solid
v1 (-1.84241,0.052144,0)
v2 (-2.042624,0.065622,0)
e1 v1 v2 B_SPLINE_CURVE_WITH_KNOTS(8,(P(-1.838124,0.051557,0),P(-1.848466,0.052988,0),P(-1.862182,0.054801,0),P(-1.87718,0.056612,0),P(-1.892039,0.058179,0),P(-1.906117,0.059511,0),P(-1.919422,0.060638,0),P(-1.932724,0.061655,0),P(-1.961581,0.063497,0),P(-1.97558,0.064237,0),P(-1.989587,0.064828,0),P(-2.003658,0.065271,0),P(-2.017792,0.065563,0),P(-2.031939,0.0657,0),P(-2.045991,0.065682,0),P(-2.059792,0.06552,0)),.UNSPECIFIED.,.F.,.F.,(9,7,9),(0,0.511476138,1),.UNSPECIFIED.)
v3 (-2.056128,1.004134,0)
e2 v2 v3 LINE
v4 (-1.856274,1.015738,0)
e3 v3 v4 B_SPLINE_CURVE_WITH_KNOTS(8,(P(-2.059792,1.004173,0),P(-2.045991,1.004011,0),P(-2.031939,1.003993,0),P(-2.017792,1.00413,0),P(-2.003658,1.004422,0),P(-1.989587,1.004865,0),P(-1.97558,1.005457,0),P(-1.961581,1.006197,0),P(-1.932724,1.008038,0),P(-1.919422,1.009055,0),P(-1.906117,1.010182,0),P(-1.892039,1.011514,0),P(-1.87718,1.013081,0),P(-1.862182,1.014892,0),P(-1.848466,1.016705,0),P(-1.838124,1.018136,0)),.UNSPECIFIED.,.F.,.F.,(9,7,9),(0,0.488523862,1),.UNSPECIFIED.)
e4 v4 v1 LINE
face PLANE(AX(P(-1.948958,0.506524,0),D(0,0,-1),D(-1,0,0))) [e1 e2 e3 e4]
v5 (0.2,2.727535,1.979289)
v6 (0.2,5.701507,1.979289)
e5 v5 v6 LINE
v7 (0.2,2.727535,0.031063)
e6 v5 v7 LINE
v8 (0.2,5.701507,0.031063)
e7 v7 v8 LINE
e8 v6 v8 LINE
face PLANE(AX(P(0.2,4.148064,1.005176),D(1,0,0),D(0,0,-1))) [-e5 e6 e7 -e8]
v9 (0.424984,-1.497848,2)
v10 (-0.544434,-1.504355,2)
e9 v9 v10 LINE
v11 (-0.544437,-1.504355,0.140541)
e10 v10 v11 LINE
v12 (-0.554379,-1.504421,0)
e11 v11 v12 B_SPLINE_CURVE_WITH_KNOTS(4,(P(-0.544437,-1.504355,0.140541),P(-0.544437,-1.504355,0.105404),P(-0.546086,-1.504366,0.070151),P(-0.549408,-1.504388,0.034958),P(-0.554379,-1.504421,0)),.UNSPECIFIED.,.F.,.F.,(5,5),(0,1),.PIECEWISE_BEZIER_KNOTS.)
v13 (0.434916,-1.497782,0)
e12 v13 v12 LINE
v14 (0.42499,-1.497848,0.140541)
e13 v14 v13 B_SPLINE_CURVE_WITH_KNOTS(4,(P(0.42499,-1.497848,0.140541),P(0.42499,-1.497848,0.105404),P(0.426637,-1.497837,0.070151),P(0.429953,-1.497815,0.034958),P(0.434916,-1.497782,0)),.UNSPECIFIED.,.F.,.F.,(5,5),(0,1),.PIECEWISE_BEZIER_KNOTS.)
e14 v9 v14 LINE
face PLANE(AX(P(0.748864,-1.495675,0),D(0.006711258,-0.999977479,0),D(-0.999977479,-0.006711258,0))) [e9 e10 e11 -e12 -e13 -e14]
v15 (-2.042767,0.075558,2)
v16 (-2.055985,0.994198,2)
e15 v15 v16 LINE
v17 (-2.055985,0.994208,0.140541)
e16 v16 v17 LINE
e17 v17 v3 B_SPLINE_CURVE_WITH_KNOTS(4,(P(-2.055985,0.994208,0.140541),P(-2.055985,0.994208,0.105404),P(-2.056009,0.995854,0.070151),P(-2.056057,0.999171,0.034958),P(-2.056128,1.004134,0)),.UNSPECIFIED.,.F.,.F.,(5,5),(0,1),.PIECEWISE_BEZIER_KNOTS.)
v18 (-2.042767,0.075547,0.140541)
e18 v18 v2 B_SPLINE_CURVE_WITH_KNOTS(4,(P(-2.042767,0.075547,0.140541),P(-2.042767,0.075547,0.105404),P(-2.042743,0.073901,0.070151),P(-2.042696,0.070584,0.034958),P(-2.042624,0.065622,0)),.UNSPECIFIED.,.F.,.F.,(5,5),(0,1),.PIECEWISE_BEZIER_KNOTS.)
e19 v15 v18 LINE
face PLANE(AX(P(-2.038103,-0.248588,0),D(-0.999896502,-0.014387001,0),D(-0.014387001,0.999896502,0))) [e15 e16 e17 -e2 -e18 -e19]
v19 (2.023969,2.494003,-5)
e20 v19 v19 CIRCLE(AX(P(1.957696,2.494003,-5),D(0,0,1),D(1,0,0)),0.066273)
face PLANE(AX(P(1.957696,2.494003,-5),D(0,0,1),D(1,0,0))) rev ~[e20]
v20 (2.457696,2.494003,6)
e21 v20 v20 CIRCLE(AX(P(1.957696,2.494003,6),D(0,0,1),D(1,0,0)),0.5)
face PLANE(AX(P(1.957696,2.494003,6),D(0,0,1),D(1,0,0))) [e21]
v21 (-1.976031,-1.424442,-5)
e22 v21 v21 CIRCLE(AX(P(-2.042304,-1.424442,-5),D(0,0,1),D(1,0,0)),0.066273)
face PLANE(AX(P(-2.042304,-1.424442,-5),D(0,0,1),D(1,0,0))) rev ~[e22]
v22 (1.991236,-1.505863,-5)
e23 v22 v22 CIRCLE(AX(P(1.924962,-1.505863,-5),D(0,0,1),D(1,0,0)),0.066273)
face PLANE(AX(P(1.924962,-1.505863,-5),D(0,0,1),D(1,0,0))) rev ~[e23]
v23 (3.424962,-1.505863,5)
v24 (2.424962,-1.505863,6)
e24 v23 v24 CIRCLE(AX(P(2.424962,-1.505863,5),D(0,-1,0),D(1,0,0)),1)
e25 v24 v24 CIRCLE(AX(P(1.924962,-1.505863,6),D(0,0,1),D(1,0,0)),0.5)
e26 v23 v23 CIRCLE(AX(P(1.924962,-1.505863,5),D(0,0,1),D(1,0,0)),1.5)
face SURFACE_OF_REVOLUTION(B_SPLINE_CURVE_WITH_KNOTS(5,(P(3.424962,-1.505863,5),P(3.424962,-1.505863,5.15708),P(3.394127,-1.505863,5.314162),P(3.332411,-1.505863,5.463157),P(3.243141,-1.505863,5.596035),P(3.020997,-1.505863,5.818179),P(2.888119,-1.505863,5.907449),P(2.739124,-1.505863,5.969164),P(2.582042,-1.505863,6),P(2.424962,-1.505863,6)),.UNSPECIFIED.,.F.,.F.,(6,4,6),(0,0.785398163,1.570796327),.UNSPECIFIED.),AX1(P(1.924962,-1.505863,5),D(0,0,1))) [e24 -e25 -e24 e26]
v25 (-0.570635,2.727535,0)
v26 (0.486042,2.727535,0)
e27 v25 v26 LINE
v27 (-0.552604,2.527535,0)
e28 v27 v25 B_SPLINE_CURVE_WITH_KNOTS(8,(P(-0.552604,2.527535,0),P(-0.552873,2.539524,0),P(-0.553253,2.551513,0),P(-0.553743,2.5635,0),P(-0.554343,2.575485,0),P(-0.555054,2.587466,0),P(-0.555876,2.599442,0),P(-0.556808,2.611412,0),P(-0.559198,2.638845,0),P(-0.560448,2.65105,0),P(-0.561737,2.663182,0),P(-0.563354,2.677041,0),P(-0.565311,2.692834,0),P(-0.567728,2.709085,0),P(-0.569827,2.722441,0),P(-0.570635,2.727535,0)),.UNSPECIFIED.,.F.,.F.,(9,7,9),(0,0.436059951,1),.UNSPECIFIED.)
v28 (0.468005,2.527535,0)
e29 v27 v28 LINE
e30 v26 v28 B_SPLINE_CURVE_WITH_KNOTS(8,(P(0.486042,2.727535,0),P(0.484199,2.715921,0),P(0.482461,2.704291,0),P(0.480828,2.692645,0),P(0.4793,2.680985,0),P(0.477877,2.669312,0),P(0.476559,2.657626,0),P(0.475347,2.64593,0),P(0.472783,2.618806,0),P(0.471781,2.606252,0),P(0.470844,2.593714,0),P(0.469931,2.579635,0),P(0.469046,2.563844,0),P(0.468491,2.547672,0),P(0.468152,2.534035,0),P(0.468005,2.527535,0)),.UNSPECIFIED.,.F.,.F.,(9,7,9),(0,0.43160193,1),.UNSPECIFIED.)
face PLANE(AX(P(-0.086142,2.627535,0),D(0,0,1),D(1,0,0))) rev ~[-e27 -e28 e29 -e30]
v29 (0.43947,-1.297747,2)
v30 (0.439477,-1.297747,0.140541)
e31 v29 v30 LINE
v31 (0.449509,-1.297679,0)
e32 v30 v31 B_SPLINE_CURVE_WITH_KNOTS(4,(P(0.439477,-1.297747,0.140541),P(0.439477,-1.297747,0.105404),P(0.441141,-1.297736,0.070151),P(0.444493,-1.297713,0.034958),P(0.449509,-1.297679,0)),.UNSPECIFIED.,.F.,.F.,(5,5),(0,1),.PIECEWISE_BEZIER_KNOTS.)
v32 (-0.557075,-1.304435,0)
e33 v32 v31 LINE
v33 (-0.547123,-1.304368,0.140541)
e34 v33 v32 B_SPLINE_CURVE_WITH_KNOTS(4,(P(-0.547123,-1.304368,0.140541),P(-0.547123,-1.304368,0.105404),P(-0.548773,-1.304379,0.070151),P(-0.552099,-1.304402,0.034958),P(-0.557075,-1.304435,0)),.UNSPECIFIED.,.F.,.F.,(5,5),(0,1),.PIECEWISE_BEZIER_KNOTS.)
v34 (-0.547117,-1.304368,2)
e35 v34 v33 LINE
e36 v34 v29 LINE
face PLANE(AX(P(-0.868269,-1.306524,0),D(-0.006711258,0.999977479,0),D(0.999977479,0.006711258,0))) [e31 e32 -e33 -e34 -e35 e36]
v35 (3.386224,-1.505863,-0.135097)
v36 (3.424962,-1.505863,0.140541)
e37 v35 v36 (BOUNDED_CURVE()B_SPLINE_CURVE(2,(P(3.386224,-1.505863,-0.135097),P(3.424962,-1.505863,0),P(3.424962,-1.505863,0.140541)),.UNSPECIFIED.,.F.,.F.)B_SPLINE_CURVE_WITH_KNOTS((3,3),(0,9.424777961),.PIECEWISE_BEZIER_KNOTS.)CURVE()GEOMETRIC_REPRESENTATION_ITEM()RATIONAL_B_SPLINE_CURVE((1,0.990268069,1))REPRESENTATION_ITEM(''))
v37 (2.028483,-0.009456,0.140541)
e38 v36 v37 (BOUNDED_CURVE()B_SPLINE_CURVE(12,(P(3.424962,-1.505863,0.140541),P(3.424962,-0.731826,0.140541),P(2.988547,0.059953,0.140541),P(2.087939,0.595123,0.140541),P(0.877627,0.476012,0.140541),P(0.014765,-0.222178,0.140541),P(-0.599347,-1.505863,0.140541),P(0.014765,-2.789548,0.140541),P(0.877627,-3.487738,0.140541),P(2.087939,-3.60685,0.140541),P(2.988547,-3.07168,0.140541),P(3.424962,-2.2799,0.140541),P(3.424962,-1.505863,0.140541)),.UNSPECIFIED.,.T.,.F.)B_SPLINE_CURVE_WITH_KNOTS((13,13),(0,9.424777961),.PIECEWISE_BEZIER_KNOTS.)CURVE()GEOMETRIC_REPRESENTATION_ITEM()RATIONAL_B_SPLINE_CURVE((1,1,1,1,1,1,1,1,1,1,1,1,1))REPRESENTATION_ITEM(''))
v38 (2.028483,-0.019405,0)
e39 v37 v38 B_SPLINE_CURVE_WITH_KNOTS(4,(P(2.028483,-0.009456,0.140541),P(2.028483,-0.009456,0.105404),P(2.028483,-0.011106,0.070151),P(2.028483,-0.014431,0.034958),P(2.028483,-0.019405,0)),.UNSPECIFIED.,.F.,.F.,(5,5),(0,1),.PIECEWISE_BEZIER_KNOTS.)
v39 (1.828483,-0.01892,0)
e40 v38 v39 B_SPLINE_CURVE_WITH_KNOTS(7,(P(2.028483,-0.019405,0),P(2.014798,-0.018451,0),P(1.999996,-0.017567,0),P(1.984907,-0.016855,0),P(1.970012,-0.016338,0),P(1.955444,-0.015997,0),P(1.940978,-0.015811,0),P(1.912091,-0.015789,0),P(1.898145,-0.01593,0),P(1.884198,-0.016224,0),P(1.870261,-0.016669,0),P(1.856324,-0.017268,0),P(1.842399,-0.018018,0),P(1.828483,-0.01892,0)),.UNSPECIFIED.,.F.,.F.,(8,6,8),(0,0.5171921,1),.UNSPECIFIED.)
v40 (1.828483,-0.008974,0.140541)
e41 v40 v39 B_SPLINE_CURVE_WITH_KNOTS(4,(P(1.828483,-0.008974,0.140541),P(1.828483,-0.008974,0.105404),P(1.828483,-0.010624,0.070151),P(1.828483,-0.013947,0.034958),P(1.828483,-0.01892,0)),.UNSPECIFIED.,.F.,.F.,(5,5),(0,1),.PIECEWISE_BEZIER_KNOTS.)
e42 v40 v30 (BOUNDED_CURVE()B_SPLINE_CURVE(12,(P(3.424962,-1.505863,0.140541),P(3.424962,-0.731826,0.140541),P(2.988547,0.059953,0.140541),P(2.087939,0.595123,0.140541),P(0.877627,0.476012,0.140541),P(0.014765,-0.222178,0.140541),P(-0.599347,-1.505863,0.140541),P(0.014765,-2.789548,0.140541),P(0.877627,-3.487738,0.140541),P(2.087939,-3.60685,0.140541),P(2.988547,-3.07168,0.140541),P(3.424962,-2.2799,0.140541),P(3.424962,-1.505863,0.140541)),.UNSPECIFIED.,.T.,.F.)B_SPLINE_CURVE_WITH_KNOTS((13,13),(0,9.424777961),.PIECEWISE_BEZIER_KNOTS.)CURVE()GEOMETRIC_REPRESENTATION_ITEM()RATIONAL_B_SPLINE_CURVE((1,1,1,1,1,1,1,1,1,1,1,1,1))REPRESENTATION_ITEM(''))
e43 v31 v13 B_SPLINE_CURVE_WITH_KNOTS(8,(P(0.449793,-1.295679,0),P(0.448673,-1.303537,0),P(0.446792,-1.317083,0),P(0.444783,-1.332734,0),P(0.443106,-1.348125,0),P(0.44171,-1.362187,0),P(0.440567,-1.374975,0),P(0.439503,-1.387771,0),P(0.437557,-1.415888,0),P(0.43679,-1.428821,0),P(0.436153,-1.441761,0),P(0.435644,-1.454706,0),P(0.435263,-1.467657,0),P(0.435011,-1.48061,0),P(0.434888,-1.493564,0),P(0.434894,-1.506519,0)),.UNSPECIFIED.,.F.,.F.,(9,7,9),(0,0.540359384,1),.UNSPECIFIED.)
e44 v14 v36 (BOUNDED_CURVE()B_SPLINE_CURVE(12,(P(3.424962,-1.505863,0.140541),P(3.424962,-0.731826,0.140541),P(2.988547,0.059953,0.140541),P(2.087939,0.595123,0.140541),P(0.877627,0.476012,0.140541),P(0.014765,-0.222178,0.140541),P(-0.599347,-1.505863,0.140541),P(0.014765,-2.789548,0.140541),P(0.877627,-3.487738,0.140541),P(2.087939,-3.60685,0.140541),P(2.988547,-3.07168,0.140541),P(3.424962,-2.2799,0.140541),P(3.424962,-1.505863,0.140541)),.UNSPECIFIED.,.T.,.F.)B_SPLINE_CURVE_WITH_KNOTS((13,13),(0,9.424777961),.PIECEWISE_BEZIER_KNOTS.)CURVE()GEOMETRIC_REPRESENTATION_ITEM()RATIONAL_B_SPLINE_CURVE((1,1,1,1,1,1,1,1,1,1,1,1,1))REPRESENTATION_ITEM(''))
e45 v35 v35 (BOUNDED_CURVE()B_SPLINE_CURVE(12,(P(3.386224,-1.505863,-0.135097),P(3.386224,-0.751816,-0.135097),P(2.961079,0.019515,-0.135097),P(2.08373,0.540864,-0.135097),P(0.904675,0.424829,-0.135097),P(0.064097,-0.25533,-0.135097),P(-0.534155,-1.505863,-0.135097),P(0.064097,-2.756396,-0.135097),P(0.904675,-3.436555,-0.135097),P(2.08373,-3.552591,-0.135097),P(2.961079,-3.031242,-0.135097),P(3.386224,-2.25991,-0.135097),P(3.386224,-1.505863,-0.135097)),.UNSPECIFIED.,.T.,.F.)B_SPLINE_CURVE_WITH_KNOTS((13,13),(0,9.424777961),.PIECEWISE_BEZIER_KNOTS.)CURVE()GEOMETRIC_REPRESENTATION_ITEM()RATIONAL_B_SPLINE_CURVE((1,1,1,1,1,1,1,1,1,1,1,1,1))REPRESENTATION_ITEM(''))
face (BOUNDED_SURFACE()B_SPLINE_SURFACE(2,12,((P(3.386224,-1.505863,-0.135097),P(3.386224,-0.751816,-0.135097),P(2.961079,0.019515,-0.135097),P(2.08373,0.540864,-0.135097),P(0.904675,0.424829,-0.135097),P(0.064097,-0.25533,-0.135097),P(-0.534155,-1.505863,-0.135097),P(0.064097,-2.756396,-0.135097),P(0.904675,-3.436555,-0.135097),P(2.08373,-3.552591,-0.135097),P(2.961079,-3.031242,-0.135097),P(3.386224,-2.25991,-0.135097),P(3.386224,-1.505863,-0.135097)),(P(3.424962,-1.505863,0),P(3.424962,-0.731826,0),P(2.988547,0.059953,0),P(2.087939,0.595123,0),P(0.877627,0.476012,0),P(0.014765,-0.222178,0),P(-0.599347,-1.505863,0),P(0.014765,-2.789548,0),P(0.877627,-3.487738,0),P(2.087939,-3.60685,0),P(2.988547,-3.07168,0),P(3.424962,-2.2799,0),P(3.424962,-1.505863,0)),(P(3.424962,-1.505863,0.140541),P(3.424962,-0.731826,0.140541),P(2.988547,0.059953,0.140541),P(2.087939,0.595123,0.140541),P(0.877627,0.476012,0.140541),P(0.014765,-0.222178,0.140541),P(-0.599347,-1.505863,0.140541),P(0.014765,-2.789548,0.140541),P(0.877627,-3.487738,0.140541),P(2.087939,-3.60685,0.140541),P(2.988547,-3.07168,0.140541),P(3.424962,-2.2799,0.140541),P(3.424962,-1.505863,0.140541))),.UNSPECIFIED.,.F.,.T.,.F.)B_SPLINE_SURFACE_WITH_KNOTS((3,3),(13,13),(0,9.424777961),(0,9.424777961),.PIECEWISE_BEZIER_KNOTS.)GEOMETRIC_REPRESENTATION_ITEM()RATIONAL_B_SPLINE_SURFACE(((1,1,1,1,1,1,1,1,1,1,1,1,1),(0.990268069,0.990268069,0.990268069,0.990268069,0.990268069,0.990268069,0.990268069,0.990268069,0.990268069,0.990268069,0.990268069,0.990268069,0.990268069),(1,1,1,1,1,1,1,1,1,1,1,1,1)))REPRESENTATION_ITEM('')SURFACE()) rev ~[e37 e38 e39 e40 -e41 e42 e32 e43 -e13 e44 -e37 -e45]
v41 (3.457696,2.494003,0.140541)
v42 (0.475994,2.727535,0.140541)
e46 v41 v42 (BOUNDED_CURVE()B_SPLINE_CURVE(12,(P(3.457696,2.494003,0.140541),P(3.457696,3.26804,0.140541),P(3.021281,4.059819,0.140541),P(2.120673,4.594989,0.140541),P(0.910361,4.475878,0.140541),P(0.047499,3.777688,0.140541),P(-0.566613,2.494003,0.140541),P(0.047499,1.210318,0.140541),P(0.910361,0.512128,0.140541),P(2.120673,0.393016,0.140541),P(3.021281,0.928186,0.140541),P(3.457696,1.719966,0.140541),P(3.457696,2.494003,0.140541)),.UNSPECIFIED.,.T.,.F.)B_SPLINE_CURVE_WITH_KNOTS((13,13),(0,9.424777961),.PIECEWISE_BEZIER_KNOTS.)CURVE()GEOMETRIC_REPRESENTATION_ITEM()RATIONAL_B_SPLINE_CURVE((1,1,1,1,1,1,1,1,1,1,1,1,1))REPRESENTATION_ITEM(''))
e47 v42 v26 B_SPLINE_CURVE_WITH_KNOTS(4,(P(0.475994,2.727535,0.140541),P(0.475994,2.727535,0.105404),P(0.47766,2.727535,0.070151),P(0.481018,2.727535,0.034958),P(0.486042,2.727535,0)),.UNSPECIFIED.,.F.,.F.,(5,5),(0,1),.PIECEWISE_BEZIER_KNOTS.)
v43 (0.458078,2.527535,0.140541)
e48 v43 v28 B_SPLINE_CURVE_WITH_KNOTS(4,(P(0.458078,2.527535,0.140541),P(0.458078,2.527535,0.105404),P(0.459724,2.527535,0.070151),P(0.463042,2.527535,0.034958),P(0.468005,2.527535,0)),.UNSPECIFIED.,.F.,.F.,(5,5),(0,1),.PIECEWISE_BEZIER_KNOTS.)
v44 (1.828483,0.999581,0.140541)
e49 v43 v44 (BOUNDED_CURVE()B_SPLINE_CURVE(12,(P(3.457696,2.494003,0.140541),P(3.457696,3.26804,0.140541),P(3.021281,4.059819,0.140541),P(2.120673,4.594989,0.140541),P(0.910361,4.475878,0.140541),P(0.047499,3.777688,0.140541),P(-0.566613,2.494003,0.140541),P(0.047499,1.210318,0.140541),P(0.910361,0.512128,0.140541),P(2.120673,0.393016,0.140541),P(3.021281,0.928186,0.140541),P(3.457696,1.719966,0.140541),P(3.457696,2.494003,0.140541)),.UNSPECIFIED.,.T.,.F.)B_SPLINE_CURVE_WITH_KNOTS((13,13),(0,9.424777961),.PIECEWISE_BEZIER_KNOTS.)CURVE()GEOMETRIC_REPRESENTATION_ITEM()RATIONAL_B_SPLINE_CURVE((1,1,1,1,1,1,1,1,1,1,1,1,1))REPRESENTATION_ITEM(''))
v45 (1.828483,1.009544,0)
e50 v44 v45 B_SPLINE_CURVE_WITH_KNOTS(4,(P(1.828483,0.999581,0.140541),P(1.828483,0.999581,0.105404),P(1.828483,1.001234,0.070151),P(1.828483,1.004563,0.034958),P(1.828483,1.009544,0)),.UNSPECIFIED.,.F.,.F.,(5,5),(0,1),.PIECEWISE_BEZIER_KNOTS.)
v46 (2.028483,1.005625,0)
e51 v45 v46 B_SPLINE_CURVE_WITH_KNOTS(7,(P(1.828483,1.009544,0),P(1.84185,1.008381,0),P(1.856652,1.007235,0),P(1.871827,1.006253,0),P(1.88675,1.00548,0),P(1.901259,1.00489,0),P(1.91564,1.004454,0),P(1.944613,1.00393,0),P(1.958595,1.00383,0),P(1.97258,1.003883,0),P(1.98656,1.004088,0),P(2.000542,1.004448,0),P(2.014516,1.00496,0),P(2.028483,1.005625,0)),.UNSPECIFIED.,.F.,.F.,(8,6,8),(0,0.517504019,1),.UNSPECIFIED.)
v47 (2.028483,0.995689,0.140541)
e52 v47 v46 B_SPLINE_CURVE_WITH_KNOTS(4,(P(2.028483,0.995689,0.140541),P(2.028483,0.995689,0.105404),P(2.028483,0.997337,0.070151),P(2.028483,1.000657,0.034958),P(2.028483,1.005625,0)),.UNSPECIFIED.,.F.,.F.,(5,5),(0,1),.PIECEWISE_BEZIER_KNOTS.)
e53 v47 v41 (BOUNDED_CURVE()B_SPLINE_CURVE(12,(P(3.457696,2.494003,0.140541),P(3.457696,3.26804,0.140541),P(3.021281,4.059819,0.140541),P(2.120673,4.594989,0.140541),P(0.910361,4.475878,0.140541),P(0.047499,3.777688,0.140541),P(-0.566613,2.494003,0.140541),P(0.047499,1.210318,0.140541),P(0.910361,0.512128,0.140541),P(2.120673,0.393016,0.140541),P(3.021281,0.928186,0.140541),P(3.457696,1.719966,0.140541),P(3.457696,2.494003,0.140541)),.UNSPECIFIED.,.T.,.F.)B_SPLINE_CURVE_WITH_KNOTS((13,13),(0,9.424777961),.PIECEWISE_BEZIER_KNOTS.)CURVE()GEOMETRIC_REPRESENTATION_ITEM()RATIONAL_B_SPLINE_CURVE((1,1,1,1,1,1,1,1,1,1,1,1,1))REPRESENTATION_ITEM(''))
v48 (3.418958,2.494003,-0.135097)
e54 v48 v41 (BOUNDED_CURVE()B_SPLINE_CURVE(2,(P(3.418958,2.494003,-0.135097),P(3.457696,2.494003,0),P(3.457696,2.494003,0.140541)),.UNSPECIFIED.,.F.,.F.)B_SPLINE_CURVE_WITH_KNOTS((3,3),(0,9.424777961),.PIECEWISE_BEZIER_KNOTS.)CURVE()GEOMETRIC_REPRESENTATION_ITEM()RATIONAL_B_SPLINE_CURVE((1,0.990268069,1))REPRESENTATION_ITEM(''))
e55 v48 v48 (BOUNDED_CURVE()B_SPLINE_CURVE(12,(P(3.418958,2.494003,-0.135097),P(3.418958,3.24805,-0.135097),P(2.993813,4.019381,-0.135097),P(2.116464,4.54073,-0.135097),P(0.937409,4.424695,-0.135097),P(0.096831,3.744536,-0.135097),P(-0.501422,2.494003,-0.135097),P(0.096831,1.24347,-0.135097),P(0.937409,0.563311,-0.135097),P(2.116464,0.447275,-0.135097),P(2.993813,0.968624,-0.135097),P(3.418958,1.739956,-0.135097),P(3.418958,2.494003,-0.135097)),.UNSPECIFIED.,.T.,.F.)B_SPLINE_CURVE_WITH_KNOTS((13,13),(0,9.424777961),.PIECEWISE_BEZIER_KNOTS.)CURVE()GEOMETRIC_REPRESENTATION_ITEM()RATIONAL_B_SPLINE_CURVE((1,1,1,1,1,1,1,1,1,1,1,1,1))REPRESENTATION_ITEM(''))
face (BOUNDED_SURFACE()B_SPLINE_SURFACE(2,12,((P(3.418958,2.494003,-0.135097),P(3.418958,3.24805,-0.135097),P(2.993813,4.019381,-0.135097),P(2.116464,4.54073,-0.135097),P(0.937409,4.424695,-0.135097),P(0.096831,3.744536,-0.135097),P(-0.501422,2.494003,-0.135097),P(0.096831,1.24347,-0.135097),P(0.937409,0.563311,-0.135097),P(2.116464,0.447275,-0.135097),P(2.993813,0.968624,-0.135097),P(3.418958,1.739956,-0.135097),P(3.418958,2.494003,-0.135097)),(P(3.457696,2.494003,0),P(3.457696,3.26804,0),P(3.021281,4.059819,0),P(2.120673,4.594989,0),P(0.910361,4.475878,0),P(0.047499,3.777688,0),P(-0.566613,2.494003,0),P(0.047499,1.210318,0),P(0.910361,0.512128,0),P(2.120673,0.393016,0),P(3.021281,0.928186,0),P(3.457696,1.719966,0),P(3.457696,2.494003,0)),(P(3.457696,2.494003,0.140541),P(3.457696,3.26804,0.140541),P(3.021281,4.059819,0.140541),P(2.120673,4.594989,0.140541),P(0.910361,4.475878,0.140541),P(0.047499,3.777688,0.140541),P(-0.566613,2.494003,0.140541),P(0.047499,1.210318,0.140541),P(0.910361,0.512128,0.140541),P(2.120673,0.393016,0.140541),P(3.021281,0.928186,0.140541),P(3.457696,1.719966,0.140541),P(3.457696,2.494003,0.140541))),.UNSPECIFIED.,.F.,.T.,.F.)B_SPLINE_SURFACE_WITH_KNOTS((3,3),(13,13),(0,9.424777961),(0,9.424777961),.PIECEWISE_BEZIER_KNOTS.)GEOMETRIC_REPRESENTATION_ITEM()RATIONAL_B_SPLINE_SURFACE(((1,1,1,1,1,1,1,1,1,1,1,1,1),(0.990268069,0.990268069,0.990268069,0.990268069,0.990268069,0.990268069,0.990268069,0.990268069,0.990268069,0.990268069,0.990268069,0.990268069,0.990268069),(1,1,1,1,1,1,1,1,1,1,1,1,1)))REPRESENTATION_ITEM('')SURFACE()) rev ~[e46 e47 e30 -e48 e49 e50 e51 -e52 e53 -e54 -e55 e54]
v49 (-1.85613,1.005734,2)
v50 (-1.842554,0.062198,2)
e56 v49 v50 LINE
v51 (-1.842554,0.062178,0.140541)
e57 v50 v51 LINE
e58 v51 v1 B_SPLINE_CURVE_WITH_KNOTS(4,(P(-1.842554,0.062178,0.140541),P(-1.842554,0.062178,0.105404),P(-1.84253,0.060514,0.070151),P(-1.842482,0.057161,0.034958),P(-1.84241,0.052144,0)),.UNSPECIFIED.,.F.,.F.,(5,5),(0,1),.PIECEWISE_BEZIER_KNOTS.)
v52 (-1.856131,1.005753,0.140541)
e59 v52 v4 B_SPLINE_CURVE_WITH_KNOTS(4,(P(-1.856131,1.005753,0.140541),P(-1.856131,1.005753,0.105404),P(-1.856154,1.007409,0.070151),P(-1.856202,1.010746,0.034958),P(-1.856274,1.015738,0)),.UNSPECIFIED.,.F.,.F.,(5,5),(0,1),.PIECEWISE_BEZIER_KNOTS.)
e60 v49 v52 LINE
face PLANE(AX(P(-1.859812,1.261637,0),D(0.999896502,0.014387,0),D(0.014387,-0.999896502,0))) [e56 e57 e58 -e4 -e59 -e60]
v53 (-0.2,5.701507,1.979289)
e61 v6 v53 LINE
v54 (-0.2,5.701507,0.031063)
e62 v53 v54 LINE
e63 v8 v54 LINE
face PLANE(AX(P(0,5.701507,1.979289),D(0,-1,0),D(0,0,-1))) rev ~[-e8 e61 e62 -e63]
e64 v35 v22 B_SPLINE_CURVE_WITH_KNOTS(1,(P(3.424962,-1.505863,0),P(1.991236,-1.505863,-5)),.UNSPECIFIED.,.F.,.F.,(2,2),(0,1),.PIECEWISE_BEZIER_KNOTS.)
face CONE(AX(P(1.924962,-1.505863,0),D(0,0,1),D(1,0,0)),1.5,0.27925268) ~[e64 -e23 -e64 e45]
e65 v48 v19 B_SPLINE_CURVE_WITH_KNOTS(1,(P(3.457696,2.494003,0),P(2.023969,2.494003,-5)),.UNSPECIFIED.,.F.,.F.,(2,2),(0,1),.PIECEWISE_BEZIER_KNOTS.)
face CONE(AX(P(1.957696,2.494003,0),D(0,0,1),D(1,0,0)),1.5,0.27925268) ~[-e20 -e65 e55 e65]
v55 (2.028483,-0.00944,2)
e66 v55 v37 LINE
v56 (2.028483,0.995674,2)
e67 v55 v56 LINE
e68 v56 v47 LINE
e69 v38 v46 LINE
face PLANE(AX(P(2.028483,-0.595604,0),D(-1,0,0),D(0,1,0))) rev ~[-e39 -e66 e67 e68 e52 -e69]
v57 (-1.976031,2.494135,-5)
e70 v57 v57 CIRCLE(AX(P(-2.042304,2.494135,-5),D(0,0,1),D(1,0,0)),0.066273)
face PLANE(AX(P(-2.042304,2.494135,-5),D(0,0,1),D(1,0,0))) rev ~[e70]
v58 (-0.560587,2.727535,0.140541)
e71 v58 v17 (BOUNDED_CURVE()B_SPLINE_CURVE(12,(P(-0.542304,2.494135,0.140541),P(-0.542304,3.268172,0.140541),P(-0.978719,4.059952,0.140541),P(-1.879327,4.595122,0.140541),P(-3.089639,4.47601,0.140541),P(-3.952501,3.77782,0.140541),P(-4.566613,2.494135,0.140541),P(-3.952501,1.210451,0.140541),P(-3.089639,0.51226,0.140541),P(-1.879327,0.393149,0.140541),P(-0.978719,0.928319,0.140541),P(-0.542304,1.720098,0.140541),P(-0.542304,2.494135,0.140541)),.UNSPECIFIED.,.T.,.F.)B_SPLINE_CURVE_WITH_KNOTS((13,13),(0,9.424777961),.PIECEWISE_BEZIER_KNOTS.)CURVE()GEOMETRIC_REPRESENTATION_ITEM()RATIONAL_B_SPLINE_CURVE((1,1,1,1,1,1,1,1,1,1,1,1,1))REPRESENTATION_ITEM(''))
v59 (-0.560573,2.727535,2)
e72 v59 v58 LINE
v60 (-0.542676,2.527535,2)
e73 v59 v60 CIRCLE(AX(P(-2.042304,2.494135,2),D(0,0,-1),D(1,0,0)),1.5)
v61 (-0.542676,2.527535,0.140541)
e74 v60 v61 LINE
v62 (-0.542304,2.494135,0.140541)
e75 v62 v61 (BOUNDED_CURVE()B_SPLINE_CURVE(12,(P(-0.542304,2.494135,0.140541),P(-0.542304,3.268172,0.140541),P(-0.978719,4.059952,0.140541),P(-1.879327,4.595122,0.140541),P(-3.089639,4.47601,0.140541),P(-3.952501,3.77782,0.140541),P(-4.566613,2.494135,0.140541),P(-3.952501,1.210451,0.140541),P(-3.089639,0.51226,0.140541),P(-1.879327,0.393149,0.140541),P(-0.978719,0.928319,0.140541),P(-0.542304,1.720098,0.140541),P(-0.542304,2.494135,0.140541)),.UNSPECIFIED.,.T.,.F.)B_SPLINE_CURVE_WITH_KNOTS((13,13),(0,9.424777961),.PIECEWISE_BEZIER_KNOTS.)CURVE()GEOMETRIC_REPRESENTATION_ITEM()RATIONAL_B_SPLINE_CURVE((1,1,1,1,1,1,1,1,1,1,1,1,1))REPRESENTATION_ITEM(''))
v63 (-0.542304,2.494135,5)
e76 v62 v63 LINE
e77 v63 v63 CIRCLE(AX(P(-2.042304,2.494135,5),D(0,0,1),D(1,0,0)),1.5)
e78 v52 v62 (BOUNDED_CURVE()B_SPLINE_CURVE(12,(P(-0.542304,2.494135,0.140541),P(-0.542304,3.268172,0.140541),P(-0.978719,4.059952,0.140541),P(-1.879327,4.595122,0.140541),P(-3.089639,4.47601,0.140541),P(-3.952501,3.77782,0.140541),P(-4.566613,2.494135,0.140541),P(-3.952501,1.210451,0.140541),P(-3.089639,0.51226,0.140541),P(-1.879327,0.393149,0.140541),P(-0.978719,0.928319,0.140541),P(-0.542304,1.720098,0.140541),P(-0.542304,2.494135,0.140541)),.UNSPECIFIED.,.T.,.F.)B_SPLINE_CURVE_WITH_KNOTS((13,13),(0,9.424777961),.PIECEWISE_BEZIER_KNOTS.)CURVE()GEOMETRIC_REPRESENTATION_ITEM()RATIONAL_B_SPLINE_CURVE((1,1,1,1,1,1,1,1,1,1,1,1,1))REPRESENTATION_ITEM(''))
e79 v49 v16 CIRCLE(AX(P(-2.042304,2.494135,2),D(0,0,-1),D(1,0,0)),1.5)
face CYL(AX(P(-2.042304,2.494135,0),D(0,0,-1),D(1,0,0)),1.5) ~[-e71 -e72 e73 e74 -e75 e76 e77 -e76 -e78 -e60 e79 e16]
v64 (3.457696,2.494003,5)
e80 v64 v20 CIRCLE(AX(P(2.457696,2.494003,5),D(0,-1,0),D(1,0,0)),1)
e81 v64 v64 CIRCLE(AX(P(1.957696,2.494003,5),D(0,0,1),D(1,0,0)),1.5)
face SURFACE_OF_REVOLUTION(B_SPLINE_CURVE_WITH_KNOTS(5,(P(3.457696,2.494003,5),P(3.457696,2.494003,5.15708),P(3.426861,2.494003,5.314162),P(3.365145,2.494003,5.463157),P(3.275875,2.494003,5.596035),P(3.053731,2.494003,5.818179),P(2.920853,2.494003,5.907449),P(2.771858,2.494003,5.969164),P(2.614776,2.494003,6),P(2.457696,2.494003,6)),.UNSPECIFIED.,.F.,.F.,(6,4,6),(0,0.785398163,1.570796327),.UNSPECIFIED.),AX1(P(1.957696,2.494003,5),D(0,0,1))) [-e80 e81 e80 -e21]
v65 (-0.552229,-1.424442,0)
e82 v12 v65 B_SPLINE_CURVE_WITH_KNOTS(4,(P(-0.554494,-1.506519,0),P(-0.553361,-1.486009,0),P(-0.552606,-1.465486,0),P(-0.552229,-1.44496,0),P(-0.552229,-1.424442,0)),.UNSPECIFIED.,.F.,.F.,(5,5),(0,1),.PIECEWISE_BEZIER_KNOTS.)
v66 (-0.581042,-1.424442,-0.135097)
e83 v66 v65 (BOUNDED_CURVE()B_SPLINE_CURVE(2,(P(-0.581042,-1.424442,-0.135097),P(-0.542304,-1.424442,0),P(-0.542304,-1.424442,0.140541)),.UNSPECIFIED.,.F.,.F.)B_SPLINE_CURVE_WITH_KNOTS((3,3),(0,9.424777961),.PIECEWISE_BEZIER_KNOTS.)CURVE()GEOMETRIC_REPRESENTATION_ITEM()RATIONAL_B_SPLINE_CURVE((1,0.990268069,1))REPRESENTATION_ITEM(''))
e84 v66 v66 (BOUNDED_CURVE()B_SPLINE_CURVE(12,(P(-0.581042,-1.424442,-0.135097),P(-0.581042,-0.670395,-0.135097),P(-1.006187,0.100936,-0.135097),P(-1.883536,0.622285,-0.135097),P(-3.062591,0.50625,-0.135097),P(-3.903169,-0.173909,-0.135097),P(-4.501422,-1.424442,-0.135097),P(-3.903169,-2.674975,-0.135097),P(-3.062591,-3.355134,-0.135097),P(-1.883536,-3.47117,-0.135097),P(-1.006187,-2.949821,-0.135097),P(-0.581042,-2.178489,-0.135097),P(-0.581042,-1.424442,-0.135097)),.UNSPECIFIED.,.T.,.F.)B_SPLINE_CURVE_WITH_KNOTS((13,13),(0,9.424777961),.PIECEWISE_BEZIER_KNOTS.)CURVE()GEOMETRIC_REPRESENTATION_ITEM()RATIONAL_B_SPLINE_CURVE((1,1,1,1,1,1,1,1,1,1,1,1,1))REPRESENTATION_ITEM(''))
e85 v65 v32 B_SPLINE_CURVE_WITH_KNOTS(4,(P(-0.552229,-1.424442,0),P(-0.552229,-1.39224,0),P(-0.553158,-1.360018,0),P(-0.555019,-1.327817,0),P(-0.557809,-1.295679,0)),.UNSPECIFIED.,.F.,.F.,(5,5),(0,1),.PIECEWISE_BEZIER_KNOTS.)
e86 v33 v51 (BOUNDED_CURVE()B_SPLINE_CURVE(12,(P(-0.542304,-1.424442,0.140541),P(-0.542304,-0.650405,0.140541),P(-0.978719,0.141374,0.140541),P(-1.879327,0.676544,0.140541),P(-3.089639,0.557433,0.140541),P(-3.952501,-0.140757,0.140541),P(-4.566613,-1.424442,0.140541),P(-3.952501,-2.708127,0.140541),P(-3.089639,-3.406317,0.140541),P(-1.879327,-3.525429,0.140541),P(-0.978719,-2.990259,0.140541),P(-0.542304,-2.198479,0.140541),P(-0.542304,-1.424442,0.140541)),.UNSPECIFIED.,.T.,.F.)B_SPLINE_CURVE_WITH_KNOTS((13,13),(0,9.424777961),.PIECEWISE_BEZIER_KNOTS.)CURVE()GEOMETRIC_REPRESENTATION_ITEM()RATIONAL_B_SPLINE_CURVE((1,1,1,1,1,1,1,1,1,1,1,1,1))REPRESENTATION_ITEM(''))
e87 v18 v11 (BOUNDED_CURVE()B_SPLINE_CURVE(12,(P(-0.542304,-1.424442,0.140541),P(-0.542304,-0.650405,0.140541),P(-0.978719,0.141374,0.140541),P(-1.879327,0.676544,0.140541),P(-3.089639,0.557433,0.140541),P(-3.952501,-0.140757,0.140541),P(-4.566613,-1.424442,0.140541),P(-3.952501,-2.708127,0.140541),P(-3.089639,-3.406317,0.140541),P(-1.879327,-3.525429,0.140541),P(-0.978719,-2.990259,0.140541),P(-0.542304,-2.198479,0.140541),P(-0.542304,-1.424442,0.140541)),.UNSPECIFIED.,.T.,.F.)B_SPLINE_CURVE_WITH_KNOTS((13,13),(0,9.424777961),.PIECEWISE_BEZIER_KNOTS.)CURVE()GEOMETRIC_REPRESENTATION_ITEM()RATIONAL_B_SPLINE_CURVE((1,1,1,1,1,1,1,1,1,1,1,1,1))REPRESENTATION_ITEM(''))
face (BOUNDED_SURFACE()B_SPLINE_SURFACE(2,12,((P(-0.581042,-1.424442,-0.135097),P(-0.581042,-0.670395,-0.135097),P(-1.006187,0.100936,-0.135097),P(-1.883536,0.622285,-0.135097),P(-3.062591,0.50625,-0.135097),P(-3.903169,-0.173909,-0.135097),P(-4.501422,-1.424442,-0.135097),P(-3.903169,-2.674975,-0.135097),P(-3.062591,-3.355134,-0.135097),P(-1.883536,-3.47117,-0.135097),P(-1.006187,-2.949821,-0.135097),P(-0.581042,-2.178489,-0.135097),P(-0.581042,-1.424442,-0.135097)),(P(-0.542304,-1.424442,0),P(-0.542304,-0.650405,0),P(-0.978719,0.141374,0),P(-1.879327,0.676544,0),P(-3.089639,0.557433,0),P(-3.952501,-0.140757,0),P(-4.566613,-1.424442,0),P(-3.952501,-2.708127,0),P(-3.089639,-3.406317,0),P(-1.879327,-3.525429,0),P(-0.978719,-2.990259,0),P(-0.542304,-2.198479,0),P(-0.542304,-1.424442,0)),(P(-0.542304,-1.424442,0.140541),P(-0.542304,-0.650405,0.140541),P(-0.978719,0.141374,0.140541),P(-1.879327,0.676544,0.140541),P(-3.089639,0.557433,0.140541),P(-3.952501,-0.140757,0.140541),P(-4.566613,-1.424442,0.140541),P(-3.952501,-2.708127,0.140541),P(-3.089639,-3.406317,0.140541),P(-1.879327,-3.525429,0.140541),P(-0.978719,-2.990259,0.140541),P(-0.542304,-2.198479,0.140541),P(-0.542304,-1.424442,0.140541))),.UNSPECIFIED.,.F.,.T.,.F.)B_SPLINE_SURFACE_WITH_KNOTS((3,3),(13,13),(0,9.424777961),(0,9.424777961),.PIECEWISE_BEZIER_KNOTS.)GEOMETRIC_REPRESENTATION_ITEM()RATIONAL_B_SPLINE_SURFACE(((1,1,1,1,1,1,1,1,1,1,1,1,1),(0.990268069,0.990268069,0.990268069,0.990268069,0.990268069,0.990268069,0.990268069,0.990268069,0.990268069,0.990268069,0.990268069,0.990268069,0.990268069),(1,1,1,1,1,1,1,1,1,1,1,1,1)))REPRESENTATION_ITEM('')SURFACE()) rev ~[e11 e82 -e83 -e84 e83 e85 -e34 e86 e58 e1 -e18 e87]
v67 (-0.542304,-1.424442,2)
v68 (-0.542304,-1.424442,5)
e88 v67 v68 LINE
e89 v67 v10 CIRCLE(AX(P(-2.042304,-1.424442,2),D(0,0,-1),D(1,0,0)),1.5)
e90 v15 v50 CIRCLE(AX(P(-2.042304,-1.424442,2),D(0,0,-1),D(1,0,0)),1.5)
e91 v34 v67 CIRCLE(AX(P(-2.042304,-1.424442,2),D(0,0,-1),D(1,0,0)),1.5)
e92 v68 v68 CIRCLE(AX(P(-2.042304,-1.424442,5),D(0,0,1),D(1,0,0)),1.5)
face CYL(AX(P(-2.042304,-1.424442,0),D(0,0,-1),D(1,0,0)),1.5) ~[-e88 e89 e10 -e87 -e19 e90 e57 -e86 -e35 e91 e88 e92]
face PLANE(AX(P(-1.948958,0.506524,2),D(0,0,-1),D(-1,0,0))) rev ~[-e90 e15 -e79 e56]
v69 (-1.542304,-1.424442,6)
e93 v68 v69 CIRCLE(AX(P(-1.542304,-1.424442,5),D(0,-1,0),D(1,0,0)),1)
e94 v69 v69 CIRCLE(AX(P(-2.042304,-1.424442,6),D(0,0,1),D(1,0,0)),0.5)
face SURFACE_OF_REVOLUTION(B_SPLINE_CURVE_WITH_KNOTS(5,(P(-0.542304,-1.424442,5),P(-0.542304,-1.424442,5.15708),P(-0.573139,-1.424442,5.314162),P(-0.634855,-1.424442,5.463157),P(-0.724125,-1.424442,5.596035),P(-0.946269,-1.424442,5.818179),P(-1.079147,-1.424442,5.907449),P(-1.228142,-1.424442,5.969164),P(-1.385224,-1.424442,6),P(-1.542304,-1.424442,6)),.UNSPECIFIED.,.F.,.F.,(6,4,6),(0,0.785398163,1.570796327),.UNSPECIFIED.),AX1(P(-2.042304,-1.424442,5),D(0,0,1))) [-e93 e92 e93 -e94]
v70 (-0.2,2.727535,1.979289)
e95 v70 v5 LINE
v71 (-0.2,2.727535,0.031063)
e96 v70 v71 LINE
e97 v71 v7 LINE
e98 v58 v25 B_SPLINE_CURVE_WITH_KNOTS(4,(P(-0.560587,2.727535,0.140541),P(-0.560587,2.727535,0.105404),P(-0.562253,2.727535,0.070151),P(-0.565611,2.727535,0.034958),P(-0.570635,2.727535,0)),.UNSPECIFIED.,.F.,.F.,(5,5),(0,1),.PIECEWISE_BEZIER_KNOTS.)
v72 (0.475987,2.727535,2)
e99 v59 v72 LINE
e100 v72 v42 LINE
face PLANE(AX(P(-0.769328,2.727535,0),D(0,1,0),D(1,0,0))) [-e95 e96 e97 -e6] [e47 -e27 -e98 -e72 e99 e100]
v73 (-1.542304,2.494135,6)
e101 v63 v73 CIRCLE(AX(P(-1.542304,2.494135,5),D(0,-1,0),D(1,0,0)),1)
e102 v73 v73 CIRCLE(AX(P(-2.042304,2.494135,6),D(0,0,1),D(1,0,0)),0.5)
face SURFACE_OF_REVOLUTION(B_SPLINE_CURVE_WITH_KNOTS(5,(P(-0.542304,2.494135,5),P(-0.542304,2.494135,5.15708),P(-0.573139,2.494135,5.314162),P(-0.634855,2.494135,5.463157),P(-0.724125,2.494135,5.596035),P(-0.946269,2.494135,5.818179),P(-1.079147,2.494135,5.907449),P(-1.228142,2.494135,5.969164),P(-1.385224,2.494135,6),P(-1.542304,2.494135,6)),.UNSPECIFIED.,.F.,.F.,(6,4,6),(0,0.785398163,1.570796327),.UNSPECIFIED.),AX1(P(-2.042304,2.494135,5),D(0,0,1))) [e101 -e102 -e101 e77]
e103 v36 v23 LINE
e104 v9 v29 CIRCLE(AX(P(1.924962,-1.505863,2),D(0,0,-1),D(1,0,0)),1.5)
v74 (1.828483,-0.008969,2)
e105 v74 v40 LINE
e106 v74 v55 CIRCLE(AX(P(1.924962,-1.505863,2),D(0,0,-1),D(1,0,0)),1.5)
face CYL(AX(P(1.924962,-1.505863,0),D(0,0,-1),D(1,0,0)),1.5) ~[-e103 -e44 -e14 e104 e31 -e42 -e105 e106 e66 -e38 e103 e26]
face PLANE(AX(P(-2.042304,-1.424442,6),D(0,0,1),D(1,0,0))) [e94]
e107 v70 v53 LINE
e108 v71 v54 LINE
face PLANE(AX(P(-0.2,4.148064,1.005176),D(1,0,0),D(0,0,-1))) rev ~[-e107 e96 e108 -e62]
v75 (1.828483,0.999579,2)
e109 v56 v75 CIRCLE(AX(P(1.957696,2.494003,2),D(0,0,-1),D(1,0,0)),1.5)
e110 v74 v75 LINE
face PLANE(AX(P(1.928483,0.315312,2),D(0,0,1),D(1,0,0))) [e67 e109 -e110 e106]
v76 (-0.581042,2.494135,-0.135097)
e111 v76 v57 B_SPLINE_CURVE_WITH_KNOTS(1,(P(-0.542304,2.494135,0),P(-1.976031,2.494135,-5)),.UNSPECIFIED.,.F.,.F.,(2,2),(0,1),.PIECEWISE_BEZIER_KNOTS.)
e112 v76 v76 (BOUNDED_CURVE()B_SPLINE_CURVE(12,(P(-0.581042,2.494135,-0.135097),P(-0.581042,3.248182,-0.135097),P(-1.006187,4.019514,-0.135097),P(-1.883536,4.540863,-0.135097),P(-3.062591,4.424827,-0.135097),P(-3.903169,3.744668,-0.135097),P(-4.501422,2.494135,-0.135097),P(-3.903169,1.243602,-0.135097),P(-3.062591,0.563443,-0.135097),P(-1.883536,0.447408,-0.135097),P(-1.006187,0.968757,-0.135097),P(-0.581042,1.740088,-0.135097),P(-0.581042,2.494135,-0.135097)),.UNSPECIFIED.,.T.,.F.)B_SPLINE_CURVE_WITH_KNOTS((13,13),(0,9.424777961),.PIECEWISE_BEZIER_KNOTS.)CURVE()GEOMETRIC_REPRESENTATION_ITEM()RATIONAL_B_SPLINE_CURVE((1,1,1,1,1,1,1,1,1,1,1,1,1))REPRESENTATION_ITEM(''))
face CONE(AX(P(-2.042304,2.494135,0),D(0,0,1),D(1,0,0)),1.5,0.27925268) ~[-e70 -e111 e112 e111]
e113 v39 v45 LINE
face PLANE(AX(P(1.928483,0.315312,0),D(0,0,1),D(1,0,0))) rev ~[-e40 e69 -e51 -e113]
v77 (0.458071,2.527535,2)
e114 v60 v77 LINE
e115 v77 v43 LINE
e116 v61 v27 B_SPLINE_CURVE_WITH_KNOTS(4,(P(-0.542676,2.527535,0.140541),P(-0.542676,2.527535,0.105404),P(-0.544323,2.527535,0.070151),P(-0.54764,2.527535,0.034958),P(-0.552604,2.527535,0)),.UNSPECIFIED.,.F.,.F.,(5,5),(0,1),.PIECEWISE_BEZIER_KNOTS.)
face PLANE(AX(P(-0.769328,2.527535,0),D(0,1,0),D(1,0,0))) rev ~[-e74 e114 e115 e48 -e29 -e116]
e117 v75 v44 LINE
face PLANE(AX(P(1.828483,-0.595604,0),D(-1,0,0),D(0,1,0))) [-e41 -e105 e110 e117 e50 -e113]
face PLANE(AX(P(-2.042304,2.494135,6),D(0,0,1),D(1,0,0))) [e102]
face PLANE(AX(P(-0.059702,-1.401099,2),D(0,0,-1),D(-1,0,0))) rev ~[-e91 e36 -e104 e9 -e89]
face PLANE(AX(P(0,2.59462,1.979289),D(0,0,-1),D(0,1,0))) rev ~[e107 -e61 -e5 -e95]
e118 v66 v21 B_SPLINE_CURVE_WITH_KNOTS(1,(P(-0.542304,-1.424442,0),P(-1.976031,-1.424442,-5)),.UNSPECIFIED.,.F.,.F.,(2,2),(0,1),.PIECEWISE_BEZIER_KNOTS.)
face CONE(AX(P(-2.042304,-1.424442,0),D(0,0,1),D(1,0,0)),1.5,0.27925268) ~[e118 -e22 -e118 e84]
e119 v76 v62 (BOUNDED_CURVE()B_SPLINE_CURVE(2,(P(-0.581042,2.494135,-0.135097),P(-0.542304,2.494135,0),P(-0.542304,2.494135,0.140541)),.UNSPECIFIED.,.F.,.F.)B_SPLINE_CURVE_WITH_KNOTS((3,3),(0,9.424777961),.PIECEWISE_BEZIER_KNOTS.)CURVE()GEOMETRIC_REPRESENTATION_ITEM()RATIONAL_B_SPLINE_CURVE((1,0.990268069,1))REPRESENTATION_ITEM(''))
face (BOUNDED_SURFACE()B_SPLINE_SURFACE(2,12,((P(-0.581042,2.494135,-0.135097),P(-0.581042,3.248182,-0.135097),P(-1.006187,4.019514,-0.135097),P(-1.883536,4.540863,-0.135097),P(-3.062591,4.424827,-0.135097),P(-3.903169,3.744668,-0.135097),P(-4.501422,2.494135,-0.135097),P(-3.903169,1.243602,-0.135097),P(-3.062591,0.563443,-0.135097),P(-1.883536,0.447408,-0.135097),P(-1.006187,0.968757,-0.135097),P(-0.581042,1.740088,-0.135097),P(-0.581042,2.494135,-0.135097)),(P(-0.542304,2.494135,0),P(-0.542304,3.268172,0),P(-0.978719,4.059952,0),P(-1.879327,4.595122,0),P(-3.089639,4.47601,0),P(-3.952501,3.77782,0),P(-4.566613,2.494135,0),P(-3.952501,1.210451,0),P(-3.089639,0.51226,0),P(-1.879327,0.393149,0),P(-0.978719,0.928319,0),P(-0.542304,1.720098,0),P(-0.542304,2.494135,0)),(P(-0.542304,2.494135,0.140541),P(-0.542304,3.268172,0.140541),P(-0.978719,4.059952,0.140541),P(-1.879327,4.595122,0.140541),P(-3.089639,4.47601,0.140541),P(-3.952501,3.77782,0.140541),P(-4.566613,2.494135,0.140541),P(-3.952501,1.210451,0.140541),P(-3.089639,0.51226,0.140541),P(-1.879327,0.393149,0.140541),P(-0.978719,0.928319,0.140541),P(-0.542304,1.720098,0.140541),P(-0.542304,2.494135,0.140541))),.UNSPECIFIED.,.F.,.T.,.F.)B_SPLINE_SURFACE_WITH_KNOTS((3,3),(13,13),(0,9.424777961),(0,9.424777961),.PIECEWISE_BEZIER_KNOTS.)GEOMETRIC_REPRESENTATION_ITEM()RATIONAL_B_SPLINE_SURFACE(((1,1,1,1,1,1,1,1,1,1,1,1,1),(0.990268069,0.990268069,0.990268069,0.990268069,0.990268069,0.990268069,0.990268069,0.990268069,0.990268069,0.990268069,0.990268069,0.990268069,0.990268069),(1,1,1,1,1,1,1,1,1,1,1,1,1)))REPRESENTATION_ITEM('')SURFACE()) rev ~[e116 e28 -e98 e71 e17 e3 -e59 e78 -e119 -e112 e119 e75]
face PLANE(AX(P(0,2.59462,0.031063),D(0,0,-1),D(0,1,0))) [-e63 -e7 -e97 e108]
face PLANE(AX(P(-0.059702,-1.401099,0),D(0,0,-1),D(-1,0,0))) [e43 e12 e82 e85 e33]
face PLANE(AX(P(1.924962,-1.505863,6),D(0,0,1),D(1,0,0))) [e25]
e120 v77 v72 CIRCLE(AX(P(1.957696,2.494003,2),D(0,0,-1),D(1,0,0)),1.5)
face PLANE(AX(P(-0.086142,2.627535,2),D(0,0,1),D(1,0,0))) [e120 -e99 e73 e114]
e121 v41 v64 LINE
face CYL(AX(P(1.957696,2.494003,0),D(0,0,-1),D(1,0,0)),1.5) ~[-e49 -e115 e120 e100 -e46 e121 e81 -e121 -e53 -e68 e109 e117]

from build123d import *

# Parameters (mm, degrees)
IZIM2_R                               = 1.5
Y_KSEKLIK_EKSTR_ZYON1_DEPTH           = 6
Y_KSEKLIK_EKSTR_ZYON1_OTHER_WAY_DEPTH = 5
Y_KSEKLIK_EKSTR_ZYON1_OTHER_WAY_TAPER = 16
RADYUS1_R                             = 1
RADYUS2_R                             = 1
RADYUS3_R                             = 1
RADYUS4_R                             = 1
IZIM3_W                               = 1.366372993
IZIM3_H                               = 0.2
IZIM3_W_2                             = 0.2
IZIM3_H_2                             = 1.821830657
EKSTR_ZYON_NCE1_DEPTH                 = 2
IZIM4_W                               = 1.948226341
IZIM4_H                               = 3.106887173
Y_KSEKLIK_EKSTR_ZYON2_DEPTH           = 0.2
Y_KSEKLIK_EKSTR_ZYON2_DEPTH_BACK      = 0.2


with BuildPart() as part:
    # izim2 → Y_kseklik-Ekstr_zyon1 (new body)
    with BuildSketch(Plane.XY):
        with Locations((1.957696281, 2.49400279)):
            Circle(IZIM2_R)
        with Locations((1.924962477, -1.50586327)):
            Circle(IZIM2_R)
        with Locations((-2.042303717, 2.494135307)):
            Circle(IZIM2_R)
        with Locations((-2.042303717, -1.424442234)):
            Circle(IZIM2_R)
    extrude(amount=Y_KSEKLIK_EKSTR_ZYON1_DEPTH)

    # izim2 → Y_kseklik-Ekstr_zyon1 other way (add)
    with BuildSketch(Plane.XY):
        with Locations((1.957696281, 2.49400279)):
            Circle(IZIM2_R)
        with Locations((1.924962477, -1.50586327)):
            Circle(IZIM2_R)
        with Locations((-2.042303717, 2.494135307)):
            Circle(IZIM2_R)
        with Locations((-2.042303717, -1.424442234)):
            Circle(IZIM2_R)
    extrude(amount=-Y_KSEKLIK_EKSTR_ZYON1_OTHER_WAY_DEPTH, taper=Y_KSEKLIK_EKSTR_ZYON1_OTHER_WAY_TAPER)

    # Radyus1
    radyus1_edges = [part.edges().sort_by_distance(p)[0] for p in [
        (-3.542303717, 2.494135307, 0),
        (-3.542303717, 2.494135307, 6),
    ]]
    fillet(radyus1_edges, radius=RADYUS1_R)

    # Radyus2
    radyus2_edges = [part.edges().sort_by_distance(p)[0] for p in [
        (0.457696281, 2.49400279, 0),
        (0.457696281, 2.49400279, 6),
    ]]
    fillet(radyus2_edges, radius=RADYUS2_R)

    # Radyus3
    radyus3_edges = [part.edges().sort_by_distance(p)[0] for p in [
        (0.424962477, -1.50586327, 0),
        (0.424962477, -1.50586327, 6),
    ]]
    fillet(radyus3_edges, radius=RADYUS3_R)

    # Radyus4
    radyus4_edges = [part.edges().sort_by_distance(p)[0] for p in [
        (-3.542303717, -1.424442234, 0),
        (-3.542303717, -1.424442234, 6),
    ]]
    fillet(radyus4_edges, radius=RADYUS4_R)

    # izim3 → Ekstr_zyon-_nce1 (add)
    with BuildSketch(Plane.XY):
        with Locations((-0.086141829, 2.627534593)):
            Rectangle(IZIM3_W, IZIM3_H)
        with Locations((1.92848304, 0.315311653)):
            Rectangle(IZIM3_W_2, IZIM3_H_2)
        Polygon((0.748863888, -1.495674774), (-0.866926397, -1.506519004), (-0.868268648, -1.306523508), (0.747521636, -1.295679278), align=None)
        Polygon((-2.038103247, -0.248588312), (-2.059791708, 1.258759671), (-1.859812407, 1.261637071), (-1.838123947, -0.245710912), align=None)
    extrude(amount=EKSTR_ZYON_NCE1_DEPTH)

    # izim4 → Y_kseklik-Ekstr_zyon2 (add, two sides)
    with BuildSketch(Plane(origin=(0, 0, 0), x_dir=(0, 0, -1), z_dir=(1, 0, 0))) as y_kseklik_ekstr_zyon2_sk:
        with Locations((-1.005175918, 4.148063822)):
            Rectangle(IZIM4_W, IZIM4_H)
    extrude(amount=Y_KSEKLIK_EKSTR_ZYON2_DEPTH)
    extrude(y_kseklik_ekstr_zyon2_sk.sketch, amount=-Y_KSEKLIK_EKSTR_ZYON2_DEPTH_BACK)


solid = part.part
